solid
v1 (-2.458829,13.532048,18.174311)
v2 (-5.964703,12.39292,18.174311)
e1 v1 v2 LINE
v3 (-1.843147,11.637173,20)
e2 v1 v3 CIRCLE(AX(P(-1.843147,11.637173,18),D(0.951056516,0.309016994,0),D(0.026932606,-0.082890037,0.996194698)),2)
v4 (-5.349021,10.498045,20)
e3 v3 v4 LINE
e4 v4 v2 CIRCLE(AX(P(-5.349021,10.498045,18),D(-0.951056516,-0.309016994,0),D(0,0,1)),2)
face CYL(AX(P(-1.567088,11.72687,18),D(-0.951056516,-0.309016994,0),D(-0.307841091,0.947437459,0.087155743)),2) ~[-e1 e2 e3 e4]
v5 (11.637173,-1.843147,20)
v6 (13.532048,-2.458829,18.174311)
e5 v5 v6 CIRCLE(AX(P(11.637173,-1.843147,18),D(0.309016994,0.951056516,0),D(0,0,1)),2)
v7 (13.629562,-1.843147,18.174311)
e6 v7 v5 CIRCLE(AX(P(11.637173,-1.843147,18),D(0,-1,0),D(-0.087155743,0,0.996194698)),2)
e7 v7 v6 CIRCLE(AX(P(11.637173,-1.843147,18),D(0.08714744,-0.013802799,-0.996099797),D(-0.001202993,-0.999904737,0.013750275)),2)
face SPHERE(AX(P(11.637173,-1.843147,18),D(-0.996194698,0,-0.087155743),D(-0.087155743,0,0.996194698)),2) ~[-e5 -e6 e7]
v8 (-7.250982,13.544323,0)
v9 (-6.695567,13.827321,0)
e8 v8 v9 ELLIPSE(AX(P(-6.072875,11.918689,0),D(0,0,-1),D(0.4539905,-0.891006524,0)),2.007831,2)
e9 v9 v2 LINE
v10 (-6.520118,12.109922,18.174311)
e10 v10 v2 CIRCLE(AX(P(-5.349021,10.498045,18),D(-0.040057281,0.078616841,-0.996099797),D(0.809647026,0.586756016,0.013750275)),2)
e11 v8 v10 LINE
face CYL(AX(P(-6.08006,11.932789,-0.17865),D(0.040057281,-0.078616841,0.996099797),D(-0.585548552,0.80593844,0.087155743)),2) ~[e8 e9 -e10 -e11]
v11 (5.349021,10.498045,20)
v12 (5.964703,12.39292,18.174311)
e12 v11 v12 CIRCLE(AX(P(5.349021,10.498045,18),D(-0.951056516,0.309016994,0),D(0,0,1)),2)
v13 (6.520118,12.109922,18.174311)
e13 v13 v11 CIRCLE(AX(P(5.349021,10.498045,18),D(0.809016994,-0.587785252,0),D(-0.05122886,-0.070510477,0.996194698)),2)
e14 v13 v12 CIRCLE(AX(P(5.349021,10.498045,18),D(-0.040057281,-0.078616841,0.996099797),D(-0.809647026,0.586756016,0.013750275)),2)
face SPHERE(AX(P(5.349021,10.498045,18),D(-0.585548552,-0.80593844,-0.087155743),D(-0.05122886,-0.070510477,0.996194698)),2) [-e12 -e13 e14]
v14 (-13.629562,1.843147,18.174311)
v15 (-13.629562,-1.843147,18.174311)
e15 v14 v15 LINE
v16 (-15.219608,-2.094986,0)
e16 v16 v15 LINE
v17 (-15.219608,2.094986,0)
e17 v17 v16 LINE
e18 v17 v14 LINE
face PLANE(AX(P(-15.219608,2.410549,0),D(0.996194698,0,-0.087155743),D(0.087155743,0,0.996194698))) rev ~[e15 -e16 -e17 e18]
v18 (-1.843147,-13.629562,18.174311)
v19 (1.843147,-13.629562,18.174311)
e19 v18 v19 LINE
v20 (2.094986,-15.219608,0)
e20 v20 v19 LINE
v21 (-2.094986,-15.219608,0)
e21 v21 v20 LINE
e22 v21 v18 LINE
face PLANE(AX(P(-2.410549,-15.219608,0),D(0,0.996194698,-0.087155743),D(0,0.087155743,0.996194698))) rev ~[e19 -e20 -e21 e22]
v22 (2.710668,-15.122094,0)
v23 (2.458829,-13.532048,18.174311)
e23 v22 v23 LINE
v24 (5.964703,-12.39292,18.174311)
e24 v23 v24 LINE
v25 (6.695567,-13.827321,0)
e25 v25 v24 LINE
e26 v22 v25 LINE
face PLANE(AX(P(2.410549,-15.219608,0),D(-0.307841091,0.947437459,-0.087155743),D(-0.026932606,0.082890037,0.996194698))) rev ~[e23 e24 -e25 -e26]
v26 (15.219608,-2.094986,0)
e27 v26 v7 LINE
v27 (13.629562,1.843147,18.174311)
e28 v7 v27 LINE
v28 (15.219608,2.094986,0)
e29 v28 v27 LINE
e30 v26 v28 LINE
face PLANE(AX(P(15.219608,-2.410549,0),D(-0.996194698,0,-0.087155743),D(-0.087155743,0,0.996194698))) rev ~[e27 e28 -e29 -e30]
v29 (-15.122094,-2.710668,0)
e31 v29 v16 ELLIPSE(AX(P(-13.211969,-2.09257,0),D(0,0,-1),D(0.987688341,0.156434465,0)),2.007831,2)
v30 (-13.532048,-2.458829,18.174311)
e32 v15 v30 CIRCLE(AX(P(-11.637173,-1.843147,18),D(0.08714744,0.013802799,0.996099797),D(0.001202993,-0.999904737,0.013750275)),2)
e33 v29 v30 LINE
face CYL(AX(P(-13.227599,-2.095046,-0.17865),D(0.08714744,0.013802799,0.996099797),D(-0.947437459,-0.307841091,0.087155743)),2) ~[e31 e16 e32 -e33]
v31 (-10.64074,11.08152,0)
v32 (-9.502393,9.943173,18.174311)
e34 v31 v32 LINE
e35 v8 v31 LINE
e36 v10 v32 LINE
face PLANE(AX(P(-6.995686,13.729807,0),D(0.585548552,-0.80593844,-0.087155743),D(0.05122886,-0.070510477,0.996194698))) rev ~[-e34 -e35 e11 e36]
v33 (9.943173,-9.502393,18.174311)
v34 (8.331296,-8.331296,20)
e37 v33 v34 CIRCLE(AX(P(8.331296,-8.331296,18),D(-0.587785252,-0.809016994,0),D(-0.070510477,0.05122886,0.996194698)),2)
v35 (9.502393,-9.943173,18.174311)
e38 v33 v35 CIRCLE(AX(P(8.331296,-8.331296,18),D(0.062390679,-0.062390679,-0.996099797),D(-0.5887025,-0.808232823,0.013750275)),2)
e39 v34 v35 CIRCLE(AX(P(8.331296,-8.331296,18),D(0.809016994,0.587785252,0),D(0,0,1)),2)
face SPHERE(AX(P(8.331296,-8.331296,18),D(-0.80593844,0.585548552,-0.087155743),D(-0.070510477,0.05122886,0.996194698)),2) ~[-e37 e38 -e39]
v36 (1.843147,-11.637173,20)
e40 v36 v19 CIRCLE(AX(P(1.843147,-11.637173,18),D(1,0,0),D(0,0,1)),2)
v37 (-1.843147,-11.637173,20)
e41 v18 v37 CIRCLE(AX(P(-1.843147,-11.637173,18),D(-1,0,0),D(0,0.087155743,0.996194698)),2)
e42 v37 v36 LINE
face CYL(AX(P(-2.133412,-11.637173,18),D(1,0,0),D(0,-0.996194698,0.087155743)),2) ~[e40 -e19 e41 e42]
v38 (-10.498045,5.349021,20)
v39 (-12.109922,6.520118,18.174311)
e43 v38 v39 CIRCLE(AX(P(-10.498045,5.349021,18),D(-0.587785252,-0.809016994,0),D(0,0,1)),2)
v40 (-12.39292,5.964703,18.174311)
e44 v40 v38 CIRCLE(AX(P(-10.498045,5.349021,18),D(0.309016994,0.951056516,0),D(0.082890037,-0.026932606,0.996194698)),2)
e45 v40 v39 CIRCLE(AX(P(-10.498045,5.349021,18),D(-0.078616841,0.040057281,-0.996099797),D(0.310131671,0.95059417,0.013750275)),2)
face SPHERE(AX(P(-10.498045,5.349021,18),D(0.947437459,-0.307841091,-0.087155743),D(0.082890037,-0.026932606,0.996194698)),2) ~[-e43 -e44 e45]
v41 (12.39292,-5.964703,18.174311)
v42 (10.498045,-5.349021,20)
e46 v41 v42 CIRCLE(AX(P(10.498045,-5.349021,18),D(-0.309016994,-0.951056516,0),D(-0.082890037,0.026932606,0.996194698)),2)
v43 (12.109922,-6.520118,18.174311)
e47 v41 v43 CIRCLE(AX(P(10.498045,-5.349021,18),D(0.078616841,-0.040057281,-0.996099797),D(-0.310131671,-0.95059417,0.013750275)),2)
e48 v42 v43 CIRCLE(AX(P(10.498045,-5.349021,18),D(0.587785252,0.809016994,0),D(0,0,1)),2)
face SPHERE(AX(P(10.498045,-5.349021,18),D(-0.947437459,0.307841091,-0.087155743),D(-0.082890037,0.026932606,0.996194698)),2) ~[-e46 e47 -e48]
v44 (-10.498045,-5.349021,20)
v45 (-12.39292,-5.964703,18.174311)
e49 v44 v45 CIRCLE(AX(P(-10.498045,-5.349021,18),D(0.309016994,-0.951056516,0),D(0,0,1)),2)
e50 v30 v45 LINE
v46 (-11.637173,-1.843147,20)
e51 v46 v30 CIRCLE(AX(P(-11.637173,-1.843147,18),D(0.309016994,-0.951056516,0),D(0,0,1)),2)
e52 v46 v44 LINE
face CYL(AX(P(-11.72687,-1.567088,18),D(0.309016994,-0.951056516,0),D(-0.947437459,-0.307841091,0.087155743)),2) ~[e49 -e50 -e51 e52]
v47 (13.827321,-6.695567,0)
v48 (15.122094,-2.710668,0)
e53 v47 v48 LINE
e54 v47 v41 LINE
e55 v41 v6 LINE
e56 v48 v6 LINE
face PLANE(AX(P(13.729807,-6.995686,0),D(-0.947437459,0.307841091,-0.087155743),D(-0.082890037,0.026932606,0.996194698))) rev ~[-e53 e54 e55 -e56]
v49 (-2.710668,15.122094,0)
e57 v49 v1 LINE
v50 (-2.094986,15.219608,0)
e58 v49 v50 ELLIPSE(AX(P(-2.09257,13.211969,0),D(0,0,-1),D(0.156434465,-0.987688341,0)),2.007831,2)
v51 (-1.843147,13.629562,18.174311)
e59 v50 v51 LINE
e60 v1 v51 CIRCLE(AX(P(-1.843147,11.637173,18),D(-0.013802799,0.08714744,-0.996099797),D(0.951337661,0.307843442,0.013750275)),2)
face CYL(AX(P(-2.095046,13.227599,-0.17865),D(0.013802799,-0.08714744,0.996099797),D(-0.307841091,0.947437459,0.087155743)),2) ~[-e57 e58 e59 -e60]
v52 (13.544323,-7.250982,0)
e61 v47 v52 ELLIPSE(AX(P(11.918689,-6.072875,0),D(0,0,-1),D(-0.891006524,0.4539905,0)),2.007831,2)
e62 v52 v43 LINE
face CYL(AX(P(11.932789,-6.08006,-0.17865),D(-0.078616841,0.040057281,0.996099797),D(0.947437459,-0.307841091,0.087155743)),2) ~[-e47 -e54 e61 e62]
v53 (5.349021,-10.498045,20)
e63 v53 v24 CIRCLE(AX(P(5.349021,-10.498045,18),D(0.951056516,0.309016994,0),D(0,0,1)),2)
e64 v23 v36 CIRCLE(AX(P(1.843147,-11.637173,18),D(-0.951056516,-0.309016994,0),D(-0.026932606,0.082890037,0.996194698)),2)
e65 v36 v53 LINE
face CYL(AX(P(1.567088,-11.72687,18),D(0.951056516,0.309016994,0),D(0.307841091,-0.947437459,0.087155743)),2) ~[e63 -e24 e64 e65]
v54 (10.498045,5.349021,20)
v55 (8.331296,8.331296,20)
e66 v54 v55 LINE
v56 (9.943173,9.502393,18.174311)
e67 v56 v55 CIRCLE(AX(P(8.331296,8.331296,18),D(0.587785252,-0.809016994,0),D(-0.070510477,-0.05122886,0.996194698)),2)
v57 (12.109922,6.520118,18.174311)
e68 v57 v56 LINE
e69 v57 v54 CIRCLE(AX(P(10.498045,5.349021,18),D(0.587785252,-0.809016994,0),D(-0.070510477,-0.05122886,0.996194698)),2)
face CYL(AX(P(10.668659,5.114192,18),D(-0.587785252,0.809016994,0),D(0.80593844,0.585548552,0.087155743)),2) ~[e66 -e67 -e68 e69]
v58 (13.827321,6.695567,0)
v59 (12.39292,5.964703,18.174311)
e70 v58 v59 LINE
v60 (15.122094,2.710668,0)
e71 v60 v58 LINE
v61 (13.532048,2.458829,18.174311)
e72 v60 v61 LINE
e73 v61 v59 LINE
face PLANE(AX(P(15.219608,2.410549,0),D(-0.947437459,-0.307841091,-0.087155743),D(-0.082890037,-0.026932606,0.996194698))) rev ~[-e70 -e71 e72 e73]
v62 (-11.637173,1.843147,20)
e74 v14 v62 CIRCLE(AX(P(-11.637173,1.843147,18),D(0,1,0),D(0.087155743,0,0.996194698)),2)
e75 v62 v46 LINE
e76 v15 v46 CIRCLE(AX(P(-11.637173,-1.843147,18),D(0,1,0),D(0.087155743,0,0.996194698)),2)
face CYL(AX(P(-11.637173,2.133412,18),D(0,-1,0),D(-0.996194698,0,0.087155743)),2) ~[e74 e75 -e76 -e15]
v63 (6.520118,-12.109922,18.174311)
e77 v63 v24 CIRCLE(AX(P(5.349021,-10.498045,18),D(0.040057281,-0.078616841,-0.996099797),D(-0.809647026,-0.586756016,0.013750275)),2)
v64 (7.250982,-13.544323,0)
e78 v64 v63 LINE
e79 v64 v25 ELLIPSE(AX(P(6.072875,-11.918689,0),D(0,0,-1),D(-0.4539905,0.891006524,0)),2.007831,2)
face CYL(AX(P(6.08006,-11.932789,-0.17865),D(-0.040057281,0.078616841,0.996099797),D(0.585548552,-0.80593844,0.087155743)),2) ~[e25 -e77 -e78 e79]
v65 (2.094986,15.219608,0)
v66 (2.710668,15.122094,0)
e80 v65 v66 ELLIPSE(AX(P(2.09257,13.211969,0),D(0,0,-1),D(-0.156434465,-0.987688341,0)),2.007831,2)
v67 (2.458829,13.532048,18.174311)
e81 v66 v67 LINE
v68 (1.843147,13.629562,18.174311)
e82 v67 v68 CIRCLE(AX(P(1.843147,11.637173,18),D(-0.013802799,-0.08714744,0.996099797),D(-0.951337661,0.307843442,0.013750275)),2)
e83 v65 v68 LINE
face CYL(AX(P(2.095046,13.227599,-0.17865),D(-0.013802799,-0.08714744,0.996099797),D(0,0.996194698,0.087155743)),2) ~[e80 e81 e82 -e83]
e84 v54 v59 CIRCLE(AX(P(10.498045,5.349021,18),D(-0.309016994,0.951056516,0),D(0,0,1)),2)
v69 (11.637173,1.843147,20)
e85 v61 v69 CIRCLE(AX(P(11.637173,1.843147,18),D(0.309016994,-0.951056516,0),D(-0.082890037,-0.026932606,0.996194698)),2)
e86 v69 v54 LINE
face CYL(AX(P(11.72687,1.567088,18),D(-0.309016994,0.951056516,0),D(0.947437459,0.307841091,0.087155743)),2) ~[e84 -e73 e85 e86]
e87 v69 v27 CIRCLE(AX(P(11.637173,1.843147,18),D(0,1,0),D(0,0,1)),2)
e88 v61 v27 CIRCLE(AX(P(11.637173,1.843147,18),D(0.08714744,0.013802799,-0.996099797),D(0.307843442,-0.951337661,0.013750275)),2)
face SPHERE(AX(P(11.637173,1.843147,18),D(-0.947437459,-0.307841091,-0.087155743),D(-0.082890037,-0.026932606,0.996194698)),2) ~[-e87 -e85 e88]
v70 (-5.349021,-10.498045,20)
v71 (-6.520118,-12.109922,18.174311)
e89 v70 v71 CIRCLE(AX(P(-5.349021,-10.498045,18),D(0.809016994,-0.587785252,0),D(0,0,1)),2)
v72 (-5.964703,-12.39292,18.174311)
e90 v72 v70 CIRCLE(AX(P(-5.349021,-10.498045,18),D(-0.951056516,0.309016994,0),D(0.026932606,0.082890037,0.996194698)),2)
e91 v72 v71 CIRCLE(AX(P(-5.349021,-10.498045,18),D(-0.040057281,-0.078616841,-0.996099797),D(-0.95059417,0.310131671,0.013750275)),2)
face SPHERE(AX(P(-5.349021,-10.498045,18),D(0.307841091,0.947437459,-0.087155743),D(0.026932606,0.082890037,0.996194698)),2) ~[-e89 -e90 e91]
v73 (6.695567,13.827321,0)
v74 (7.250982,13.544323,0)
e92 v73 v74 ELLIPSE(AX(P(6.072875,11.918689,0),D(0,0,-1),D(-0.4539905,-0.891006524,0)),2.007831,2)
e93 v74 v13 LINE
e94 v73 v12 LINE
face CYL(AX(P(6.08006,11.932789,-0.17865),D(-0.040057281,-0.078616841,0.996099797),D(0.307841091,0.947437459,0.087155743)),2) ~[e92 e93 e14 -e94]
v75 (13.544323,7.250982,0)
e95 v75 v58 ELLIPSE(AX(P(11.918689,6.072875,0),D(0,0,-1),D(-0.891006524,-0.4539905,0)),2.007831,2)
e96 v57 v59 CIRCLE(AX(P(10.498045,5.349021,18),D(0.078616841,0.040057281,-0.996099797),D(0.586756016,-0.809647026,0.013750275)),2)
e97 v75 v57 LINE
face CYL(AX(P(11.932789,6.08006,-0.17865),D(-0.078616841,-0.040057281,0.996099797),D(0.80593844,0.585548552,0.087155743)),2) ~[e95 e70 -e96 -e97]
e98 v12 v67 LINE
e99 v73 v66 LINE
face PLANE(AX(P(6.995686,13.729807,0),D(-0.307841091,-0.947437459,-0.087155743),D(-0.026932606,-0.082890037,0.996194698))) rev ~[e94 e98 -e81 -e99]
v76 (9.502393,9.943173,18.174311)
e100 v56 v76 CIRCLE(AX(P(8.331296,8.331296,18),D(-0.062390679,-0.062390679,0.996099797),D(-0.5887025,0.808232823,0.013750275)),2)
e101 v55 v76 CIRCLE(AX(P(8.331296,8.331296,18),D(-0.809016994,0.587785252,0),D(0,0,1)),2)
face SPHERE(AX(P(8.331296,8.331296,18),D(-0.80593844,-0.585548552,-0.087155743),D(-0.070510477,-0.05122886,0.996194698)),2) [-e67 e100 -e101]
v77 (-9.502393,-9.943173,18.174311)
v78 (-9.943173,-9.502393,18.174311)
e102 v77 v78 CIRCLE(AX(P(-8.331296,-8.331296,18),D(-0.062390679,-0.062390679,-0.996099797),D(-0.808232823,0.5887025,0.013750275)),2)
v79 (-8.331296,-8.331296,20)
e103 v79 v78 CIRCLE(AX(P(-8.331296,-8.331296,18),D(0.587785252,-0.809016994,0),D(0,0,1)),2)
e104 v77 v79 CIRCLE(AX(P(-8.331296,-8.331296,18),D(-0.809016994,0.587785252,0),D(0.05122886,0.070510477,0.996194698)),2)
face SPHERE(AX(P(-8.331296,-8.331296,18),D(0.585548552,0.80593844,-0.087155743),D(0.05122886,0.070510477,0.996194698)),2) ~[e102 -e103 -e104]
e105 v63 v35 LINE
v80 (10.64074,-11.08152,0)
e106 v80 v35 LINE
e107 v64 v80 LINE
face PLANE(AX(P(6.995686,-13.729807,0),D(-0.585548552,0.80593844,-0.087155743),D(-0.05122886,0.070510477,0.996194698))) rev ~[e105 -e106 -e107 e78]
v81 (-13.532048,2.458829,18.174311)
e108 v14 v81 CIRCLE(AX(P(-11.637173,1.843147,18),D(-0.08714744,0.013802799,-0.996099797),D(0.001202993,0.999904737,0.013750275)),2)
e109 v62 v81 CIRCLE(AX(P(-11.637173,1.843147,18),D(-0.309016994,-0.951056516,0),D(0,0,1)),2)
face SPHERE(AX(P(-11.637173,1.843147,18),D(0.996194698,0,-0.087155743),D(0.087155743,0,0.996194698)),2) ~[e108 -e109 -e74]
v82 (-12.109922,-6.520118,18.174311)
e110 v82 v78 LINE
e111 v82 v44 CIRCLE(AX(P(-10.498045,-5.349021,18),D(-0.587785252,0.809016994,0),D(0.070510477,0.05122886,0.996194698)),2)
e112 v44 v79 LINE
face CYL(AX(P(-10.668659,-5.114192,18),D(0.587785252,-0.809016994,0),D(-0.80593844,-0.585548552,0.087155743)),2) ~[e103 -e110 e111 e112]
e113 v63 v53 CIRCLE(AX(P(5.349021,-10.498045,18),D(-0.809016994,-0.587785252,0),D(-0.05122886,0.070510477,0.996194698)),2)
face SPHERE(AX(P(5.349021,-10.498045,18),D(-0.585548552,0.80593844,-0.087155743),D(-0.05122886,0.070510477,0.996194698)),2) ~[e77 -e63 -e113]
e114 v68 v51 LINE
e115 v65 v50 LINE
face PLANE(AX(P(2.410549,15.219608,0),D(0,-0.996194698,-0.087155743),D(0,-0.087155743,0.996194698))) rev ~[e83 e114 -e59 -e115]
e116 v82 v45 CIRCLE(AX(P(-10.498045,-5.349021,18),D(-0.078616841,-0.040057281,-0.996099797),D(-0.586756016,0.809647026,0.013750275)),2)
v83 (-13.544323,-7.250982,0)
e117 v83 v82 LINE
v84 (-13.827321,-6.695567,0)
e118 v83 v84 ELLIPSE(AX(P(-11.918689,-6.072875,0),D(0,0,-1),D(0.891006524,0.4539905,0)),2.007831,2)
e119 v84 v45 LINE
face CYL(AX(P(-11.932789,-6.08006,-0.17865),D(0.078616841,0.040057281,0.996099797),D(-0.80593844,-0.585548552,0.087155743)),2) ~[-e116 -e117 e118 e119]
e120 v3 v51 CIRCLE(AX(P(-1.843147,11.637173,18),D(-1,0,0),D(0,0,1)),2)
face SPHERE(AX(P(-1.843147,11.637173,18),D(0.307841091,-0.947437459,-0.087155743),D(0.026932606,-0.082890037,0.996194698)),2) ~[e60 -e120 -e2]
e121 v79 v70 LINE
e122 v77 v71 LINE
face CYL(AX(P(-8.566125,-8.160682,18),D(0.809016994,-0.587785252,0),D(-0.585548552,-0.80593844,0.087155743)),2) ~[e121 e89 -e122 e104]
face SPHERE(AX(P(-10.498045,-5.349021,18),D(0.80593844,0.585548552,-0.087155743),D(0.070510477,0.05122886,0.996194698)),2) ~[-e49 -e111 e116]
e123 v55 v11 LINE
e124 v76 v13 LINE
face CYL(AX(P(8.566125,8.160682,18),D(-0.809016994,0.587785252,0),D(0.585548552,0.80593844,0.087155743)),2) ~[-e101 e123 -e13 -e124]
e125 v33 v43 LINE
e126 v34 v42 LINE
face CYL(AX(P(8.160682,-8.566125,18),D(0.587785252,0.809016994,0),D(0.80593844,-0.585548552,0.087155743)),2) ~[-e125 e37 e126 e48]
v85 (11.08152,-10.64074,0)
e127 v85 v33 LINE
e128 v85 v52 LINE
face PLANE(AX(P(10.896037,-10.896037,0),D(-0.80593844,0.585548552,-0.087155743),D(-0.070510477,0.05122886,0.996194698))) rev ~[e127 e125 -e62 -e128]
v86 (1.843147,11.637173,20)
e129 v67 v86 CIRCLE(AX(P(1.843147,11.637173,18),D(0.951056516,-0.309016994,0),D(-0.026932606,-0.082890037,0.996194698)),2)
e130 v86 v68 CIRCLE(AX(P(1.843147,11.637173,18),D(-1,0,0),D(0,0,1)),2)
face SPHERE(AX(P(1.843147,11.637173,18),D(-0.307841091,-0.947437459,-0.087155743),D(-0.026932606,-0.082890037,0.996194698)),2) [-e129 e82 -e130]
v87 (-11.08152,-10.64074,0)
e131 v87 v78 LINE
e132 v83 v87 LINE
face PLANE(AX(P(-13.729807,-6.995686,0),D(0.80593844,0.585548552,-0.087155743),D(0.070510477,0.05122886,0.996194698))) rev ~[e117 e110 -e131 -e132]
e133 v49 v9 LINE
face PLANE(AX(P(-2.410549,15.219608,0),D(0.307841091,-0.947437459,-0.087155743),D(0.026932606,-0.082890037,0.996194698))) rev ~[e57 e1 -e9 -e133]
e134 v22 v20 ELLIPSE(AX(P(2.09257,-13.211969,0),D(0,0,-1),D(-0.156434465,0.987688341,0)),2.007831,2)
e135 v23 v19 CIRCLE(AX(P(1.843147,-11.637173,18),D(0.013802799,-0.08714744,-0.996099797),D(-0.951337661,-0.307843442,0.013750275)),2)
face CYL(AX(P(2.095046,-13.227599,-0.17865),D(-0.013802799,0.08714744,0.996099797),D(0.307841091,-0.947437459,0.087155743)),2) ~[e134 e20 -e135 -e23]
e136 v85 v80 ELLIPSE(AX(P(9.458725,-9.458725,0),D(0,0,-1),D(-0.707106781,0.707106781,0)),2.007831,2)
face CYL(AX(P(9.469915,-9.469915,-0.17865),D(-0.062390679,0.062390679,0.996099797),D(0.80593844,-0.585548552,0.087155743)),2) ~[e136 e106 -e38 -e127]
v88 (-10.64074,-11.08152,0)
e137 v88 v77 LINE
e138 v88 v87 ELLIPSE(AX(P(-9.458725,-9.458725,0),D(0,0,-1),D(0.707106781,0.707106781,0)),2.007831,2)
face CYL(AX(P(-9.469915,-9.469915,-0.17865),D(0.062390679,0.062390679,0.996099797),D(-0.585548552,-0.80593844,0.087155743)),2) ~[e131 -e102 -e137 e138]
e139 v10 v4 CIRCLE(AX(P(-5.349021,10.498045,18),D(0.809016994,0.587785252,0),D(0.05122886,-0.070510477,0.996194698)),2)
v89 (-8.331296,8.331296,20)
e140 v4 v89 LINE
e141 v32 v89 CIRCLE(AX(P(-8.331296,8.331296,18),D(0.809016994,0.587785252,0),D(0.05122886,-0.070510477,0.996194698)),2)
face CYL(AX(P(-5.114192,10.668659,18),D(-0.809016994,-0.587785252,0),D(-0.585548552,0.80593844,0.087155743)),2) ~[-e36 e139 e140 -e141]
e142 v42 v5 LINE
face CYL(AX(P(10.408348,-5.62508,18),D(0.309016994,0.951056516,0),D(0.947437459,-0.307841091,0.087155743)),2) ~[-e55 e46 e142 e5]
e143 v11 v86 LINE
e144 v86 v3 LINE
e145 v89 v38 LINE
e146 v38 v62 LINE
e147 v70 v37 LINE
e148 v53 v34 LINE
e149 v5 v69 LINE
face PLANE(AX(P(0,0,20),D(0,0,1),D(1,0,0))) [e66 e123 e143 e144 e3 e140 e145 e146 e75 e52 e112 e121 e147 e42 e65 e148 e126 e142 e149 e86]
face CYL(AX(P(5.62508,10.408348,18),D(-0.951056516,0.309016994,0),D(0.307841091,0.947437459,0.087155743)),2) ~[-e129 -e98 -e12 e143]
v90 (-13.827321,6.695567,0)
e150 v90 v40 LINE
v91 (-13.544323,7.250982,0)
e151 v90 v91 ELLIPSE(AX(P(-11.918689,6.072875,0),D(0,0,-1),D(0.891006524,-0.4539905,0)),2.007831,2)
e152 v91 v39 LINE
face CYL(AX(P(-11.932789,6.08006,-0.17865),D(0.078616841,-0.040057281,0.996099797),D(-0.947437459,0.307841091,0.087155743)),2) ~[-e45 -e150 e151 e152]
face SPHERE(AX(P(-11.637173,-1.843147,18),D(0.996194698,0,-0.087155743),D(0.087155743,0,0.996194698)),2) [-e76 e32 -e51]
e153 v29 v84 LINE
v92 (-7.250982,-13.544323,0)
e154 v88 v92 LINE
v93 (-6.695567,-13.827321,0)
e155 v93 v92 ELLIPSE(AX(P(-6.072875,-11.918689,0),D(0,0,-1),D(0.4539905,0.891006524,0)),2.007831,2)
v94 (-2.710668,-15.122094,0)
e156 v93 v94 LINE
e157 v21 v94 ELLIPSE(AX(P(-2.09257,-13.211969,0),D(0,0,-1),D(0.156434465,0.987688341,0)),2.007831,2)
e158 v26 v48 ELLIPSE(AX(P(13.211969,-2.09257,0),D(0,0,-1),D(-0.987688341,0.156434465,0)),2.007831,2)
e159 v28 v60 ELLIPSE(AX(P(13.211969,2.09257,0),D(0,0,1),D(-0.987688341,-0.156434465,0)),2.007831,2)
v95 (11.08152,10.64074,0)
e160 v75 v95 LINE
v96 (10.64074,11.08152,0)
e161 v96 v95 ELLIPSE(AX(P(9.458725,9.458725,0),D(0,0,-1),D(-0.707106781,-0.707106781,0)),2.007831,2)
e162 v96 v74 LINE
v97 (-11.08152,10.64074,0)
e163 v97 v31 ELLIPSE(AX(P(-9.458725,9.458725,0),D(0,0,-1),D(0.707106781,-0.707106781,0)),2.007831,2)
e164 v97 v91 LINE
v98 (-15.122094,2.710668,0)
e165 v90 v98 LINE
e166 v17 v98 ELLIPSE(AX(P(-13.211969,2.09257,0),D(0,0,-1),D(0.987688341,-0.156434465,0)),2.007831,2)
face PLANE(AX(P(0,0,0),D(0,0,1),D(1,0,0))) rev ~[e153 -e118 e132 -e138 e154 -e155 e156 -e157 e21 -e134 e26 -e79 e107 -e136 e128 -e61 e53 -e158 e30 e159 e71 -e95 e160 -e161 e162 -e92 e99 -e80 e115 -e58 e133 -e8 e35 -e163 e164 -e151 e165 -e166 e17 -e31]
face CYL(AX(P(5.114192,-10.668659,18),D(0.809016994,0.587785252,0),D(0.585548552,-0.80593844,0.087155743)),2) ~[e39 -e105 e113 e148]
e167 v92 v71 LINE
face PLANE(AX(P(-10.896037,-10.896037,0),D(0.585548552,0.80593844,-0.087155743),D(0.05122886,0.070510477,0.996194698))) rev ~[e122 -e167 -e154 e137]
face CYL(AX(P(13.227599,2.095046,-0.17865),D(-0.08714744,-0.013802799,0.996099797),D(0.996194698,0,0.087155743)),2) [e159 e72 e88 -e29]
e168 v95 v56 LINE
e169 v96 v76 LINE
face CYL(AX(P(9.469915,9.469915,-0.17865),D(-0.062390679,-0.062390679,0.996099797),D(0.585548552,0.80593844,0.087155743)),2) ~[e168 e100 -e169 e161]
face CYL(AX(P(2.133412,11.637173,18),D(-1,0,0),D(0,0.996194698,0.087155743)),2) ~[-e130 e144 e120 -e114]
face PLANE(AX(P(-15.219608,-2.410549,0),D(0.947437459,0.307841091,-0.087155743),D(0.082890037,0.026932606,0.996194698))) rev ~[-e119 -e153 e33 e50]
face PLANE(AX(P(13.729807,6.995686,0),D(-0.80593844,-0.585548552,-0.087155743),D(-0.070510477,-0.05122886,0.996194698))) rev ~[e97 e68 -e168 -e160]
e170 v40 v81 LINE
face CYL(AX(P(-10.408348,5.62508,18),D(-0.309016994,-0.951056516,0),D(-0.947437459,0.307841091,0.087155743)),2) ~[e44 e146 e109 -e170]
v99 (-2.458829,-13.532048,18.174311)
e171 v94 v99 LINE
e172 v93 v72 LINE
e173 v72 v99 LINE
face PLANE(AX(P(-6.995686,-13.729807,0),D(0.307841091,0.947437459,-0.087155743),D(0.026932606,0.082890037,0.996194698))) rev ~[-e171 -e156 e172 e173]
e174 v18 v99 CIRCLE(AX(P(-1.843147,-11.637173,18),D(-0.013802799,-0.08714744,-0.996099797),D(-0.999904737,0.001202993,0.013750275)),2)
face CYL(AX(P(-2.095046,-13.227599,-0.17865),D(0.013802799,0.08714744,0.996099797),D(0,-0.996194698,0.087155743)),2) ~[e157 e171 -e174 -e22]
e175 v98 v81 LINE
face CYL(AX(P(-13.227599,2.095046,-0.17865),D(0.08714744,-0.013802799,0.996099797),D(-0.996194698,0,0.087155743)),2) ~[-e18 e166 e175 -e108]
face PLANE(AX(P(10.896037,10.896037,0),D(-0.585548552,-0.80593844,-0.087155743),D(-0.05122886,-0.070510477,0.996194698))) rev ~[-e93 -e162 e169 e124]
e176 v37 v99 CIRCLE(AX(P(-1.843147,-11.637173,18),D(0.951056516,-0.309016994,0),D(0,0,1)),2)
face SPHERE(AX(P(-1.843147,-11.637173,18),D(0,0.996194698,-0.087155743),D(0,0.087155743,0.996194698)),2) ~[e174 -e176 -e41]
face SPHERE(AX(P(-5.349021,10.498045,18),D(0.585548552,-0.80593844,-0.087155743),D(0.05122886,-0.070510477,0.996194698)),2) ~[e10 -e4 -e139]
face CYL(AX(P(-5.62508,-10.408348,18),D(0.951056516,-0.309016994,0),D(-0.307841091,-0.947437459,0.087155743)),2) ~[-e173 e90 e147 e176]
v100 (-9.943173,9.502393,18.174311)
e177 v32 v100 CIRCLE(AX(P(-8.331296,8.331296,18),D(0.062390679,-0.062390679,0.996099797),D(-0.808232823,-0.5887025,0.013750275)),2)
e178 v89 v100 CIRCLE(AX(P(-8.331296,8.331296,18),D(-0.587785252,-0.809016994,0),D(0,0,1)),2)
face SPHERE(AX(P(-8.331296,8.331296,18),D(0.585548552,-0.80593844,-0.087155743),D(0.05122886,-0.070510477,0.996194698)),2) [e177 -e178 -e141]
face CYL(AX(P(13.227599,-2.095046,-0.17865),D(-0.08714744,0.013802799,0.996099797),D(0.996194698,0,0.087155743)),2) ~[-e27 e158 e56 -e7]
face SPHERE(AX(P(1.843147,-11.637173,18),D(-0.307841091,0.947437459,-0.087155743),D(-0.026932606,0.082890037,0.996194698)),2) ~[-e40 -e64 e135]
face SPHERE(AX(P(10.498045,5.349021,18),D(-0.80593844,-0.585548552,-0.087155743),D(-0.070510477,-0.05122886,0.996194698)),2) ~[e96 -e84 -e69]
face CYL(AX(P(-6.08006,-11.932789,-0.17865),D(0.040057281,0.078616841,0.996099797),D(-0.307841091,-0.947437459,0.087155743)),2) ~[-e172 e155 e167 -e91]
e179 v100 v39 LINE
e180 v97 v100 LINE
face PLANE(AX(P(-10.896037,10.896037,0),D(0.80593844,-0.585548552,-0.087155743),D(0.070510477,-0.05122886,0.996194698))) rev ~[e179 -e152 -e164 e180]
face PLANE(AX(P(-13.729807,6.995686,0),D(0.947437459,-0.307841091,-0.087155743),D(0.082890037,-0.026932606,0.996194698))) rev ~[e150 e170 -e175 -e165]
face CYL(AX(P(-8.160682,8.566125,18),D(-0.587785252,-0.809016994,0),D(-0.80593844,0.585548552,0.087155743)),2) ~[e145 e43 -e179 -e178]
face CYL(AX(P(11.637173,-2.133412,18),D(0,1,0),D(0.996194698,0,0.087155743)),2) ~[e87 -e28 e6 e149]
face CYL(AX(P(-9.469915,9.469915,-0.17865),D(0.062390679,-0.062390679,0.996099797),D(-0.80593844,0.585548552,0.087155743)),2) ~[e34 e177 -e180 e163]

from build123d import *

# Parameters (mm, degrees)
F1_DEPTH = 20
F1_TAPER = 5
F2_R     = 2


with BuildPart() as f1:
    # F0 (on Top) → F1 (new body)
    with BuildSketch(Plane.XY):
        Polygon((15.2196083218, -2.410549146), (15.2196083218, 2.410549146), (13.729807018, 6.9956860923), (10.8960365421, 10.8960365421), (6.9956860923, 13.729807018), (2.410549146, 15.2196083218), (-2.410549146, 15.2196083218), (-6.9956860923, 13.729807018), (-10.8960365421, 10.8960365421), (-13.729807018, 6.9956860923), (-15.2196083218, 2.410549146), (-15.2196083218, -2.410549146), (-13.729807018, -6.9956860923), (-10.8960365421, -10.8960365421), (-6.9956860923, -13.729807018), (-2.410549146, -15.2196083218), (2.410549146, -15.2196083218), (6.9956860923, -13.729807018), (10.8960365421, -10.8960365421), (13.729807018, -6.9956860923), align=None)
    extrude(amount=F1_DEPTH, taper=F1_TAPER)

    # F2
    f2_edges = [f1.edges().sort_by_distance(p)[0] for p in [
        (0, 13.469835, 20),
        (4.162408, 12.810574, 20),
        (7.91737, 10.897325, 20),
        (-10.897325, 7.91737, 20),
        (-12.810574, -4.162408, 20),
        (-10.897325, -7.91737, 20),
        (-7.91737, -10.897325, 20),
        (-4.162408, -12.810574, 20),
        (0, -13.469835, 20),
        (4.162408, -12.810574, 20),
        (7.91737, -10.897325, 20),
        (10.897325, -7.91737, 20),
        (12.810574, -4.162408, 20),
        (13.469835, 0, 20),
        (12.810574, 4.162408, 20),
        (10.897325, 7.91737, 20),
        (-4.162408, 12.810574, 20),
        (-7.91737, 10.897325, 20),
        (-12.810574, 4.162408, 20),
        (-13.469835, 0, 20),
        (2.271981, 14.344722, 10),
        (-2.271981, 14.344722, 10),
        (-6.593545, 12.94056, 10),
        (-10.269687, 10.269687, 10),
        (-12.94056, 6.593545, 10),
        (-14.344722, 2.271981, 10),
        (-14.344722, -2.271981, 10),
        (-12.94056, -6.593545, 10),
        (-10.269687, -10.269687, 10),
        (-6.593545, -12.94056, 10),
        (-2.271981, -14.344722, 10),
        (2.271981, -14.344722, 10),
        (6.593545, -12.94056, 10),
        (10.269687, -10.269687, 10),
        (12.94056, 6.593545, 10),
        (6.593545, 12.94056, 10),
        (10.269687, 10.269687, 10),
        (14.344722, 2.271981, 10),
        (14.344722, -2.271981, 10),
        (12.94056, -6.593545, 10),
    ]]
    fillet(f2_edges, radius=F2_R)


solid = f1.part
